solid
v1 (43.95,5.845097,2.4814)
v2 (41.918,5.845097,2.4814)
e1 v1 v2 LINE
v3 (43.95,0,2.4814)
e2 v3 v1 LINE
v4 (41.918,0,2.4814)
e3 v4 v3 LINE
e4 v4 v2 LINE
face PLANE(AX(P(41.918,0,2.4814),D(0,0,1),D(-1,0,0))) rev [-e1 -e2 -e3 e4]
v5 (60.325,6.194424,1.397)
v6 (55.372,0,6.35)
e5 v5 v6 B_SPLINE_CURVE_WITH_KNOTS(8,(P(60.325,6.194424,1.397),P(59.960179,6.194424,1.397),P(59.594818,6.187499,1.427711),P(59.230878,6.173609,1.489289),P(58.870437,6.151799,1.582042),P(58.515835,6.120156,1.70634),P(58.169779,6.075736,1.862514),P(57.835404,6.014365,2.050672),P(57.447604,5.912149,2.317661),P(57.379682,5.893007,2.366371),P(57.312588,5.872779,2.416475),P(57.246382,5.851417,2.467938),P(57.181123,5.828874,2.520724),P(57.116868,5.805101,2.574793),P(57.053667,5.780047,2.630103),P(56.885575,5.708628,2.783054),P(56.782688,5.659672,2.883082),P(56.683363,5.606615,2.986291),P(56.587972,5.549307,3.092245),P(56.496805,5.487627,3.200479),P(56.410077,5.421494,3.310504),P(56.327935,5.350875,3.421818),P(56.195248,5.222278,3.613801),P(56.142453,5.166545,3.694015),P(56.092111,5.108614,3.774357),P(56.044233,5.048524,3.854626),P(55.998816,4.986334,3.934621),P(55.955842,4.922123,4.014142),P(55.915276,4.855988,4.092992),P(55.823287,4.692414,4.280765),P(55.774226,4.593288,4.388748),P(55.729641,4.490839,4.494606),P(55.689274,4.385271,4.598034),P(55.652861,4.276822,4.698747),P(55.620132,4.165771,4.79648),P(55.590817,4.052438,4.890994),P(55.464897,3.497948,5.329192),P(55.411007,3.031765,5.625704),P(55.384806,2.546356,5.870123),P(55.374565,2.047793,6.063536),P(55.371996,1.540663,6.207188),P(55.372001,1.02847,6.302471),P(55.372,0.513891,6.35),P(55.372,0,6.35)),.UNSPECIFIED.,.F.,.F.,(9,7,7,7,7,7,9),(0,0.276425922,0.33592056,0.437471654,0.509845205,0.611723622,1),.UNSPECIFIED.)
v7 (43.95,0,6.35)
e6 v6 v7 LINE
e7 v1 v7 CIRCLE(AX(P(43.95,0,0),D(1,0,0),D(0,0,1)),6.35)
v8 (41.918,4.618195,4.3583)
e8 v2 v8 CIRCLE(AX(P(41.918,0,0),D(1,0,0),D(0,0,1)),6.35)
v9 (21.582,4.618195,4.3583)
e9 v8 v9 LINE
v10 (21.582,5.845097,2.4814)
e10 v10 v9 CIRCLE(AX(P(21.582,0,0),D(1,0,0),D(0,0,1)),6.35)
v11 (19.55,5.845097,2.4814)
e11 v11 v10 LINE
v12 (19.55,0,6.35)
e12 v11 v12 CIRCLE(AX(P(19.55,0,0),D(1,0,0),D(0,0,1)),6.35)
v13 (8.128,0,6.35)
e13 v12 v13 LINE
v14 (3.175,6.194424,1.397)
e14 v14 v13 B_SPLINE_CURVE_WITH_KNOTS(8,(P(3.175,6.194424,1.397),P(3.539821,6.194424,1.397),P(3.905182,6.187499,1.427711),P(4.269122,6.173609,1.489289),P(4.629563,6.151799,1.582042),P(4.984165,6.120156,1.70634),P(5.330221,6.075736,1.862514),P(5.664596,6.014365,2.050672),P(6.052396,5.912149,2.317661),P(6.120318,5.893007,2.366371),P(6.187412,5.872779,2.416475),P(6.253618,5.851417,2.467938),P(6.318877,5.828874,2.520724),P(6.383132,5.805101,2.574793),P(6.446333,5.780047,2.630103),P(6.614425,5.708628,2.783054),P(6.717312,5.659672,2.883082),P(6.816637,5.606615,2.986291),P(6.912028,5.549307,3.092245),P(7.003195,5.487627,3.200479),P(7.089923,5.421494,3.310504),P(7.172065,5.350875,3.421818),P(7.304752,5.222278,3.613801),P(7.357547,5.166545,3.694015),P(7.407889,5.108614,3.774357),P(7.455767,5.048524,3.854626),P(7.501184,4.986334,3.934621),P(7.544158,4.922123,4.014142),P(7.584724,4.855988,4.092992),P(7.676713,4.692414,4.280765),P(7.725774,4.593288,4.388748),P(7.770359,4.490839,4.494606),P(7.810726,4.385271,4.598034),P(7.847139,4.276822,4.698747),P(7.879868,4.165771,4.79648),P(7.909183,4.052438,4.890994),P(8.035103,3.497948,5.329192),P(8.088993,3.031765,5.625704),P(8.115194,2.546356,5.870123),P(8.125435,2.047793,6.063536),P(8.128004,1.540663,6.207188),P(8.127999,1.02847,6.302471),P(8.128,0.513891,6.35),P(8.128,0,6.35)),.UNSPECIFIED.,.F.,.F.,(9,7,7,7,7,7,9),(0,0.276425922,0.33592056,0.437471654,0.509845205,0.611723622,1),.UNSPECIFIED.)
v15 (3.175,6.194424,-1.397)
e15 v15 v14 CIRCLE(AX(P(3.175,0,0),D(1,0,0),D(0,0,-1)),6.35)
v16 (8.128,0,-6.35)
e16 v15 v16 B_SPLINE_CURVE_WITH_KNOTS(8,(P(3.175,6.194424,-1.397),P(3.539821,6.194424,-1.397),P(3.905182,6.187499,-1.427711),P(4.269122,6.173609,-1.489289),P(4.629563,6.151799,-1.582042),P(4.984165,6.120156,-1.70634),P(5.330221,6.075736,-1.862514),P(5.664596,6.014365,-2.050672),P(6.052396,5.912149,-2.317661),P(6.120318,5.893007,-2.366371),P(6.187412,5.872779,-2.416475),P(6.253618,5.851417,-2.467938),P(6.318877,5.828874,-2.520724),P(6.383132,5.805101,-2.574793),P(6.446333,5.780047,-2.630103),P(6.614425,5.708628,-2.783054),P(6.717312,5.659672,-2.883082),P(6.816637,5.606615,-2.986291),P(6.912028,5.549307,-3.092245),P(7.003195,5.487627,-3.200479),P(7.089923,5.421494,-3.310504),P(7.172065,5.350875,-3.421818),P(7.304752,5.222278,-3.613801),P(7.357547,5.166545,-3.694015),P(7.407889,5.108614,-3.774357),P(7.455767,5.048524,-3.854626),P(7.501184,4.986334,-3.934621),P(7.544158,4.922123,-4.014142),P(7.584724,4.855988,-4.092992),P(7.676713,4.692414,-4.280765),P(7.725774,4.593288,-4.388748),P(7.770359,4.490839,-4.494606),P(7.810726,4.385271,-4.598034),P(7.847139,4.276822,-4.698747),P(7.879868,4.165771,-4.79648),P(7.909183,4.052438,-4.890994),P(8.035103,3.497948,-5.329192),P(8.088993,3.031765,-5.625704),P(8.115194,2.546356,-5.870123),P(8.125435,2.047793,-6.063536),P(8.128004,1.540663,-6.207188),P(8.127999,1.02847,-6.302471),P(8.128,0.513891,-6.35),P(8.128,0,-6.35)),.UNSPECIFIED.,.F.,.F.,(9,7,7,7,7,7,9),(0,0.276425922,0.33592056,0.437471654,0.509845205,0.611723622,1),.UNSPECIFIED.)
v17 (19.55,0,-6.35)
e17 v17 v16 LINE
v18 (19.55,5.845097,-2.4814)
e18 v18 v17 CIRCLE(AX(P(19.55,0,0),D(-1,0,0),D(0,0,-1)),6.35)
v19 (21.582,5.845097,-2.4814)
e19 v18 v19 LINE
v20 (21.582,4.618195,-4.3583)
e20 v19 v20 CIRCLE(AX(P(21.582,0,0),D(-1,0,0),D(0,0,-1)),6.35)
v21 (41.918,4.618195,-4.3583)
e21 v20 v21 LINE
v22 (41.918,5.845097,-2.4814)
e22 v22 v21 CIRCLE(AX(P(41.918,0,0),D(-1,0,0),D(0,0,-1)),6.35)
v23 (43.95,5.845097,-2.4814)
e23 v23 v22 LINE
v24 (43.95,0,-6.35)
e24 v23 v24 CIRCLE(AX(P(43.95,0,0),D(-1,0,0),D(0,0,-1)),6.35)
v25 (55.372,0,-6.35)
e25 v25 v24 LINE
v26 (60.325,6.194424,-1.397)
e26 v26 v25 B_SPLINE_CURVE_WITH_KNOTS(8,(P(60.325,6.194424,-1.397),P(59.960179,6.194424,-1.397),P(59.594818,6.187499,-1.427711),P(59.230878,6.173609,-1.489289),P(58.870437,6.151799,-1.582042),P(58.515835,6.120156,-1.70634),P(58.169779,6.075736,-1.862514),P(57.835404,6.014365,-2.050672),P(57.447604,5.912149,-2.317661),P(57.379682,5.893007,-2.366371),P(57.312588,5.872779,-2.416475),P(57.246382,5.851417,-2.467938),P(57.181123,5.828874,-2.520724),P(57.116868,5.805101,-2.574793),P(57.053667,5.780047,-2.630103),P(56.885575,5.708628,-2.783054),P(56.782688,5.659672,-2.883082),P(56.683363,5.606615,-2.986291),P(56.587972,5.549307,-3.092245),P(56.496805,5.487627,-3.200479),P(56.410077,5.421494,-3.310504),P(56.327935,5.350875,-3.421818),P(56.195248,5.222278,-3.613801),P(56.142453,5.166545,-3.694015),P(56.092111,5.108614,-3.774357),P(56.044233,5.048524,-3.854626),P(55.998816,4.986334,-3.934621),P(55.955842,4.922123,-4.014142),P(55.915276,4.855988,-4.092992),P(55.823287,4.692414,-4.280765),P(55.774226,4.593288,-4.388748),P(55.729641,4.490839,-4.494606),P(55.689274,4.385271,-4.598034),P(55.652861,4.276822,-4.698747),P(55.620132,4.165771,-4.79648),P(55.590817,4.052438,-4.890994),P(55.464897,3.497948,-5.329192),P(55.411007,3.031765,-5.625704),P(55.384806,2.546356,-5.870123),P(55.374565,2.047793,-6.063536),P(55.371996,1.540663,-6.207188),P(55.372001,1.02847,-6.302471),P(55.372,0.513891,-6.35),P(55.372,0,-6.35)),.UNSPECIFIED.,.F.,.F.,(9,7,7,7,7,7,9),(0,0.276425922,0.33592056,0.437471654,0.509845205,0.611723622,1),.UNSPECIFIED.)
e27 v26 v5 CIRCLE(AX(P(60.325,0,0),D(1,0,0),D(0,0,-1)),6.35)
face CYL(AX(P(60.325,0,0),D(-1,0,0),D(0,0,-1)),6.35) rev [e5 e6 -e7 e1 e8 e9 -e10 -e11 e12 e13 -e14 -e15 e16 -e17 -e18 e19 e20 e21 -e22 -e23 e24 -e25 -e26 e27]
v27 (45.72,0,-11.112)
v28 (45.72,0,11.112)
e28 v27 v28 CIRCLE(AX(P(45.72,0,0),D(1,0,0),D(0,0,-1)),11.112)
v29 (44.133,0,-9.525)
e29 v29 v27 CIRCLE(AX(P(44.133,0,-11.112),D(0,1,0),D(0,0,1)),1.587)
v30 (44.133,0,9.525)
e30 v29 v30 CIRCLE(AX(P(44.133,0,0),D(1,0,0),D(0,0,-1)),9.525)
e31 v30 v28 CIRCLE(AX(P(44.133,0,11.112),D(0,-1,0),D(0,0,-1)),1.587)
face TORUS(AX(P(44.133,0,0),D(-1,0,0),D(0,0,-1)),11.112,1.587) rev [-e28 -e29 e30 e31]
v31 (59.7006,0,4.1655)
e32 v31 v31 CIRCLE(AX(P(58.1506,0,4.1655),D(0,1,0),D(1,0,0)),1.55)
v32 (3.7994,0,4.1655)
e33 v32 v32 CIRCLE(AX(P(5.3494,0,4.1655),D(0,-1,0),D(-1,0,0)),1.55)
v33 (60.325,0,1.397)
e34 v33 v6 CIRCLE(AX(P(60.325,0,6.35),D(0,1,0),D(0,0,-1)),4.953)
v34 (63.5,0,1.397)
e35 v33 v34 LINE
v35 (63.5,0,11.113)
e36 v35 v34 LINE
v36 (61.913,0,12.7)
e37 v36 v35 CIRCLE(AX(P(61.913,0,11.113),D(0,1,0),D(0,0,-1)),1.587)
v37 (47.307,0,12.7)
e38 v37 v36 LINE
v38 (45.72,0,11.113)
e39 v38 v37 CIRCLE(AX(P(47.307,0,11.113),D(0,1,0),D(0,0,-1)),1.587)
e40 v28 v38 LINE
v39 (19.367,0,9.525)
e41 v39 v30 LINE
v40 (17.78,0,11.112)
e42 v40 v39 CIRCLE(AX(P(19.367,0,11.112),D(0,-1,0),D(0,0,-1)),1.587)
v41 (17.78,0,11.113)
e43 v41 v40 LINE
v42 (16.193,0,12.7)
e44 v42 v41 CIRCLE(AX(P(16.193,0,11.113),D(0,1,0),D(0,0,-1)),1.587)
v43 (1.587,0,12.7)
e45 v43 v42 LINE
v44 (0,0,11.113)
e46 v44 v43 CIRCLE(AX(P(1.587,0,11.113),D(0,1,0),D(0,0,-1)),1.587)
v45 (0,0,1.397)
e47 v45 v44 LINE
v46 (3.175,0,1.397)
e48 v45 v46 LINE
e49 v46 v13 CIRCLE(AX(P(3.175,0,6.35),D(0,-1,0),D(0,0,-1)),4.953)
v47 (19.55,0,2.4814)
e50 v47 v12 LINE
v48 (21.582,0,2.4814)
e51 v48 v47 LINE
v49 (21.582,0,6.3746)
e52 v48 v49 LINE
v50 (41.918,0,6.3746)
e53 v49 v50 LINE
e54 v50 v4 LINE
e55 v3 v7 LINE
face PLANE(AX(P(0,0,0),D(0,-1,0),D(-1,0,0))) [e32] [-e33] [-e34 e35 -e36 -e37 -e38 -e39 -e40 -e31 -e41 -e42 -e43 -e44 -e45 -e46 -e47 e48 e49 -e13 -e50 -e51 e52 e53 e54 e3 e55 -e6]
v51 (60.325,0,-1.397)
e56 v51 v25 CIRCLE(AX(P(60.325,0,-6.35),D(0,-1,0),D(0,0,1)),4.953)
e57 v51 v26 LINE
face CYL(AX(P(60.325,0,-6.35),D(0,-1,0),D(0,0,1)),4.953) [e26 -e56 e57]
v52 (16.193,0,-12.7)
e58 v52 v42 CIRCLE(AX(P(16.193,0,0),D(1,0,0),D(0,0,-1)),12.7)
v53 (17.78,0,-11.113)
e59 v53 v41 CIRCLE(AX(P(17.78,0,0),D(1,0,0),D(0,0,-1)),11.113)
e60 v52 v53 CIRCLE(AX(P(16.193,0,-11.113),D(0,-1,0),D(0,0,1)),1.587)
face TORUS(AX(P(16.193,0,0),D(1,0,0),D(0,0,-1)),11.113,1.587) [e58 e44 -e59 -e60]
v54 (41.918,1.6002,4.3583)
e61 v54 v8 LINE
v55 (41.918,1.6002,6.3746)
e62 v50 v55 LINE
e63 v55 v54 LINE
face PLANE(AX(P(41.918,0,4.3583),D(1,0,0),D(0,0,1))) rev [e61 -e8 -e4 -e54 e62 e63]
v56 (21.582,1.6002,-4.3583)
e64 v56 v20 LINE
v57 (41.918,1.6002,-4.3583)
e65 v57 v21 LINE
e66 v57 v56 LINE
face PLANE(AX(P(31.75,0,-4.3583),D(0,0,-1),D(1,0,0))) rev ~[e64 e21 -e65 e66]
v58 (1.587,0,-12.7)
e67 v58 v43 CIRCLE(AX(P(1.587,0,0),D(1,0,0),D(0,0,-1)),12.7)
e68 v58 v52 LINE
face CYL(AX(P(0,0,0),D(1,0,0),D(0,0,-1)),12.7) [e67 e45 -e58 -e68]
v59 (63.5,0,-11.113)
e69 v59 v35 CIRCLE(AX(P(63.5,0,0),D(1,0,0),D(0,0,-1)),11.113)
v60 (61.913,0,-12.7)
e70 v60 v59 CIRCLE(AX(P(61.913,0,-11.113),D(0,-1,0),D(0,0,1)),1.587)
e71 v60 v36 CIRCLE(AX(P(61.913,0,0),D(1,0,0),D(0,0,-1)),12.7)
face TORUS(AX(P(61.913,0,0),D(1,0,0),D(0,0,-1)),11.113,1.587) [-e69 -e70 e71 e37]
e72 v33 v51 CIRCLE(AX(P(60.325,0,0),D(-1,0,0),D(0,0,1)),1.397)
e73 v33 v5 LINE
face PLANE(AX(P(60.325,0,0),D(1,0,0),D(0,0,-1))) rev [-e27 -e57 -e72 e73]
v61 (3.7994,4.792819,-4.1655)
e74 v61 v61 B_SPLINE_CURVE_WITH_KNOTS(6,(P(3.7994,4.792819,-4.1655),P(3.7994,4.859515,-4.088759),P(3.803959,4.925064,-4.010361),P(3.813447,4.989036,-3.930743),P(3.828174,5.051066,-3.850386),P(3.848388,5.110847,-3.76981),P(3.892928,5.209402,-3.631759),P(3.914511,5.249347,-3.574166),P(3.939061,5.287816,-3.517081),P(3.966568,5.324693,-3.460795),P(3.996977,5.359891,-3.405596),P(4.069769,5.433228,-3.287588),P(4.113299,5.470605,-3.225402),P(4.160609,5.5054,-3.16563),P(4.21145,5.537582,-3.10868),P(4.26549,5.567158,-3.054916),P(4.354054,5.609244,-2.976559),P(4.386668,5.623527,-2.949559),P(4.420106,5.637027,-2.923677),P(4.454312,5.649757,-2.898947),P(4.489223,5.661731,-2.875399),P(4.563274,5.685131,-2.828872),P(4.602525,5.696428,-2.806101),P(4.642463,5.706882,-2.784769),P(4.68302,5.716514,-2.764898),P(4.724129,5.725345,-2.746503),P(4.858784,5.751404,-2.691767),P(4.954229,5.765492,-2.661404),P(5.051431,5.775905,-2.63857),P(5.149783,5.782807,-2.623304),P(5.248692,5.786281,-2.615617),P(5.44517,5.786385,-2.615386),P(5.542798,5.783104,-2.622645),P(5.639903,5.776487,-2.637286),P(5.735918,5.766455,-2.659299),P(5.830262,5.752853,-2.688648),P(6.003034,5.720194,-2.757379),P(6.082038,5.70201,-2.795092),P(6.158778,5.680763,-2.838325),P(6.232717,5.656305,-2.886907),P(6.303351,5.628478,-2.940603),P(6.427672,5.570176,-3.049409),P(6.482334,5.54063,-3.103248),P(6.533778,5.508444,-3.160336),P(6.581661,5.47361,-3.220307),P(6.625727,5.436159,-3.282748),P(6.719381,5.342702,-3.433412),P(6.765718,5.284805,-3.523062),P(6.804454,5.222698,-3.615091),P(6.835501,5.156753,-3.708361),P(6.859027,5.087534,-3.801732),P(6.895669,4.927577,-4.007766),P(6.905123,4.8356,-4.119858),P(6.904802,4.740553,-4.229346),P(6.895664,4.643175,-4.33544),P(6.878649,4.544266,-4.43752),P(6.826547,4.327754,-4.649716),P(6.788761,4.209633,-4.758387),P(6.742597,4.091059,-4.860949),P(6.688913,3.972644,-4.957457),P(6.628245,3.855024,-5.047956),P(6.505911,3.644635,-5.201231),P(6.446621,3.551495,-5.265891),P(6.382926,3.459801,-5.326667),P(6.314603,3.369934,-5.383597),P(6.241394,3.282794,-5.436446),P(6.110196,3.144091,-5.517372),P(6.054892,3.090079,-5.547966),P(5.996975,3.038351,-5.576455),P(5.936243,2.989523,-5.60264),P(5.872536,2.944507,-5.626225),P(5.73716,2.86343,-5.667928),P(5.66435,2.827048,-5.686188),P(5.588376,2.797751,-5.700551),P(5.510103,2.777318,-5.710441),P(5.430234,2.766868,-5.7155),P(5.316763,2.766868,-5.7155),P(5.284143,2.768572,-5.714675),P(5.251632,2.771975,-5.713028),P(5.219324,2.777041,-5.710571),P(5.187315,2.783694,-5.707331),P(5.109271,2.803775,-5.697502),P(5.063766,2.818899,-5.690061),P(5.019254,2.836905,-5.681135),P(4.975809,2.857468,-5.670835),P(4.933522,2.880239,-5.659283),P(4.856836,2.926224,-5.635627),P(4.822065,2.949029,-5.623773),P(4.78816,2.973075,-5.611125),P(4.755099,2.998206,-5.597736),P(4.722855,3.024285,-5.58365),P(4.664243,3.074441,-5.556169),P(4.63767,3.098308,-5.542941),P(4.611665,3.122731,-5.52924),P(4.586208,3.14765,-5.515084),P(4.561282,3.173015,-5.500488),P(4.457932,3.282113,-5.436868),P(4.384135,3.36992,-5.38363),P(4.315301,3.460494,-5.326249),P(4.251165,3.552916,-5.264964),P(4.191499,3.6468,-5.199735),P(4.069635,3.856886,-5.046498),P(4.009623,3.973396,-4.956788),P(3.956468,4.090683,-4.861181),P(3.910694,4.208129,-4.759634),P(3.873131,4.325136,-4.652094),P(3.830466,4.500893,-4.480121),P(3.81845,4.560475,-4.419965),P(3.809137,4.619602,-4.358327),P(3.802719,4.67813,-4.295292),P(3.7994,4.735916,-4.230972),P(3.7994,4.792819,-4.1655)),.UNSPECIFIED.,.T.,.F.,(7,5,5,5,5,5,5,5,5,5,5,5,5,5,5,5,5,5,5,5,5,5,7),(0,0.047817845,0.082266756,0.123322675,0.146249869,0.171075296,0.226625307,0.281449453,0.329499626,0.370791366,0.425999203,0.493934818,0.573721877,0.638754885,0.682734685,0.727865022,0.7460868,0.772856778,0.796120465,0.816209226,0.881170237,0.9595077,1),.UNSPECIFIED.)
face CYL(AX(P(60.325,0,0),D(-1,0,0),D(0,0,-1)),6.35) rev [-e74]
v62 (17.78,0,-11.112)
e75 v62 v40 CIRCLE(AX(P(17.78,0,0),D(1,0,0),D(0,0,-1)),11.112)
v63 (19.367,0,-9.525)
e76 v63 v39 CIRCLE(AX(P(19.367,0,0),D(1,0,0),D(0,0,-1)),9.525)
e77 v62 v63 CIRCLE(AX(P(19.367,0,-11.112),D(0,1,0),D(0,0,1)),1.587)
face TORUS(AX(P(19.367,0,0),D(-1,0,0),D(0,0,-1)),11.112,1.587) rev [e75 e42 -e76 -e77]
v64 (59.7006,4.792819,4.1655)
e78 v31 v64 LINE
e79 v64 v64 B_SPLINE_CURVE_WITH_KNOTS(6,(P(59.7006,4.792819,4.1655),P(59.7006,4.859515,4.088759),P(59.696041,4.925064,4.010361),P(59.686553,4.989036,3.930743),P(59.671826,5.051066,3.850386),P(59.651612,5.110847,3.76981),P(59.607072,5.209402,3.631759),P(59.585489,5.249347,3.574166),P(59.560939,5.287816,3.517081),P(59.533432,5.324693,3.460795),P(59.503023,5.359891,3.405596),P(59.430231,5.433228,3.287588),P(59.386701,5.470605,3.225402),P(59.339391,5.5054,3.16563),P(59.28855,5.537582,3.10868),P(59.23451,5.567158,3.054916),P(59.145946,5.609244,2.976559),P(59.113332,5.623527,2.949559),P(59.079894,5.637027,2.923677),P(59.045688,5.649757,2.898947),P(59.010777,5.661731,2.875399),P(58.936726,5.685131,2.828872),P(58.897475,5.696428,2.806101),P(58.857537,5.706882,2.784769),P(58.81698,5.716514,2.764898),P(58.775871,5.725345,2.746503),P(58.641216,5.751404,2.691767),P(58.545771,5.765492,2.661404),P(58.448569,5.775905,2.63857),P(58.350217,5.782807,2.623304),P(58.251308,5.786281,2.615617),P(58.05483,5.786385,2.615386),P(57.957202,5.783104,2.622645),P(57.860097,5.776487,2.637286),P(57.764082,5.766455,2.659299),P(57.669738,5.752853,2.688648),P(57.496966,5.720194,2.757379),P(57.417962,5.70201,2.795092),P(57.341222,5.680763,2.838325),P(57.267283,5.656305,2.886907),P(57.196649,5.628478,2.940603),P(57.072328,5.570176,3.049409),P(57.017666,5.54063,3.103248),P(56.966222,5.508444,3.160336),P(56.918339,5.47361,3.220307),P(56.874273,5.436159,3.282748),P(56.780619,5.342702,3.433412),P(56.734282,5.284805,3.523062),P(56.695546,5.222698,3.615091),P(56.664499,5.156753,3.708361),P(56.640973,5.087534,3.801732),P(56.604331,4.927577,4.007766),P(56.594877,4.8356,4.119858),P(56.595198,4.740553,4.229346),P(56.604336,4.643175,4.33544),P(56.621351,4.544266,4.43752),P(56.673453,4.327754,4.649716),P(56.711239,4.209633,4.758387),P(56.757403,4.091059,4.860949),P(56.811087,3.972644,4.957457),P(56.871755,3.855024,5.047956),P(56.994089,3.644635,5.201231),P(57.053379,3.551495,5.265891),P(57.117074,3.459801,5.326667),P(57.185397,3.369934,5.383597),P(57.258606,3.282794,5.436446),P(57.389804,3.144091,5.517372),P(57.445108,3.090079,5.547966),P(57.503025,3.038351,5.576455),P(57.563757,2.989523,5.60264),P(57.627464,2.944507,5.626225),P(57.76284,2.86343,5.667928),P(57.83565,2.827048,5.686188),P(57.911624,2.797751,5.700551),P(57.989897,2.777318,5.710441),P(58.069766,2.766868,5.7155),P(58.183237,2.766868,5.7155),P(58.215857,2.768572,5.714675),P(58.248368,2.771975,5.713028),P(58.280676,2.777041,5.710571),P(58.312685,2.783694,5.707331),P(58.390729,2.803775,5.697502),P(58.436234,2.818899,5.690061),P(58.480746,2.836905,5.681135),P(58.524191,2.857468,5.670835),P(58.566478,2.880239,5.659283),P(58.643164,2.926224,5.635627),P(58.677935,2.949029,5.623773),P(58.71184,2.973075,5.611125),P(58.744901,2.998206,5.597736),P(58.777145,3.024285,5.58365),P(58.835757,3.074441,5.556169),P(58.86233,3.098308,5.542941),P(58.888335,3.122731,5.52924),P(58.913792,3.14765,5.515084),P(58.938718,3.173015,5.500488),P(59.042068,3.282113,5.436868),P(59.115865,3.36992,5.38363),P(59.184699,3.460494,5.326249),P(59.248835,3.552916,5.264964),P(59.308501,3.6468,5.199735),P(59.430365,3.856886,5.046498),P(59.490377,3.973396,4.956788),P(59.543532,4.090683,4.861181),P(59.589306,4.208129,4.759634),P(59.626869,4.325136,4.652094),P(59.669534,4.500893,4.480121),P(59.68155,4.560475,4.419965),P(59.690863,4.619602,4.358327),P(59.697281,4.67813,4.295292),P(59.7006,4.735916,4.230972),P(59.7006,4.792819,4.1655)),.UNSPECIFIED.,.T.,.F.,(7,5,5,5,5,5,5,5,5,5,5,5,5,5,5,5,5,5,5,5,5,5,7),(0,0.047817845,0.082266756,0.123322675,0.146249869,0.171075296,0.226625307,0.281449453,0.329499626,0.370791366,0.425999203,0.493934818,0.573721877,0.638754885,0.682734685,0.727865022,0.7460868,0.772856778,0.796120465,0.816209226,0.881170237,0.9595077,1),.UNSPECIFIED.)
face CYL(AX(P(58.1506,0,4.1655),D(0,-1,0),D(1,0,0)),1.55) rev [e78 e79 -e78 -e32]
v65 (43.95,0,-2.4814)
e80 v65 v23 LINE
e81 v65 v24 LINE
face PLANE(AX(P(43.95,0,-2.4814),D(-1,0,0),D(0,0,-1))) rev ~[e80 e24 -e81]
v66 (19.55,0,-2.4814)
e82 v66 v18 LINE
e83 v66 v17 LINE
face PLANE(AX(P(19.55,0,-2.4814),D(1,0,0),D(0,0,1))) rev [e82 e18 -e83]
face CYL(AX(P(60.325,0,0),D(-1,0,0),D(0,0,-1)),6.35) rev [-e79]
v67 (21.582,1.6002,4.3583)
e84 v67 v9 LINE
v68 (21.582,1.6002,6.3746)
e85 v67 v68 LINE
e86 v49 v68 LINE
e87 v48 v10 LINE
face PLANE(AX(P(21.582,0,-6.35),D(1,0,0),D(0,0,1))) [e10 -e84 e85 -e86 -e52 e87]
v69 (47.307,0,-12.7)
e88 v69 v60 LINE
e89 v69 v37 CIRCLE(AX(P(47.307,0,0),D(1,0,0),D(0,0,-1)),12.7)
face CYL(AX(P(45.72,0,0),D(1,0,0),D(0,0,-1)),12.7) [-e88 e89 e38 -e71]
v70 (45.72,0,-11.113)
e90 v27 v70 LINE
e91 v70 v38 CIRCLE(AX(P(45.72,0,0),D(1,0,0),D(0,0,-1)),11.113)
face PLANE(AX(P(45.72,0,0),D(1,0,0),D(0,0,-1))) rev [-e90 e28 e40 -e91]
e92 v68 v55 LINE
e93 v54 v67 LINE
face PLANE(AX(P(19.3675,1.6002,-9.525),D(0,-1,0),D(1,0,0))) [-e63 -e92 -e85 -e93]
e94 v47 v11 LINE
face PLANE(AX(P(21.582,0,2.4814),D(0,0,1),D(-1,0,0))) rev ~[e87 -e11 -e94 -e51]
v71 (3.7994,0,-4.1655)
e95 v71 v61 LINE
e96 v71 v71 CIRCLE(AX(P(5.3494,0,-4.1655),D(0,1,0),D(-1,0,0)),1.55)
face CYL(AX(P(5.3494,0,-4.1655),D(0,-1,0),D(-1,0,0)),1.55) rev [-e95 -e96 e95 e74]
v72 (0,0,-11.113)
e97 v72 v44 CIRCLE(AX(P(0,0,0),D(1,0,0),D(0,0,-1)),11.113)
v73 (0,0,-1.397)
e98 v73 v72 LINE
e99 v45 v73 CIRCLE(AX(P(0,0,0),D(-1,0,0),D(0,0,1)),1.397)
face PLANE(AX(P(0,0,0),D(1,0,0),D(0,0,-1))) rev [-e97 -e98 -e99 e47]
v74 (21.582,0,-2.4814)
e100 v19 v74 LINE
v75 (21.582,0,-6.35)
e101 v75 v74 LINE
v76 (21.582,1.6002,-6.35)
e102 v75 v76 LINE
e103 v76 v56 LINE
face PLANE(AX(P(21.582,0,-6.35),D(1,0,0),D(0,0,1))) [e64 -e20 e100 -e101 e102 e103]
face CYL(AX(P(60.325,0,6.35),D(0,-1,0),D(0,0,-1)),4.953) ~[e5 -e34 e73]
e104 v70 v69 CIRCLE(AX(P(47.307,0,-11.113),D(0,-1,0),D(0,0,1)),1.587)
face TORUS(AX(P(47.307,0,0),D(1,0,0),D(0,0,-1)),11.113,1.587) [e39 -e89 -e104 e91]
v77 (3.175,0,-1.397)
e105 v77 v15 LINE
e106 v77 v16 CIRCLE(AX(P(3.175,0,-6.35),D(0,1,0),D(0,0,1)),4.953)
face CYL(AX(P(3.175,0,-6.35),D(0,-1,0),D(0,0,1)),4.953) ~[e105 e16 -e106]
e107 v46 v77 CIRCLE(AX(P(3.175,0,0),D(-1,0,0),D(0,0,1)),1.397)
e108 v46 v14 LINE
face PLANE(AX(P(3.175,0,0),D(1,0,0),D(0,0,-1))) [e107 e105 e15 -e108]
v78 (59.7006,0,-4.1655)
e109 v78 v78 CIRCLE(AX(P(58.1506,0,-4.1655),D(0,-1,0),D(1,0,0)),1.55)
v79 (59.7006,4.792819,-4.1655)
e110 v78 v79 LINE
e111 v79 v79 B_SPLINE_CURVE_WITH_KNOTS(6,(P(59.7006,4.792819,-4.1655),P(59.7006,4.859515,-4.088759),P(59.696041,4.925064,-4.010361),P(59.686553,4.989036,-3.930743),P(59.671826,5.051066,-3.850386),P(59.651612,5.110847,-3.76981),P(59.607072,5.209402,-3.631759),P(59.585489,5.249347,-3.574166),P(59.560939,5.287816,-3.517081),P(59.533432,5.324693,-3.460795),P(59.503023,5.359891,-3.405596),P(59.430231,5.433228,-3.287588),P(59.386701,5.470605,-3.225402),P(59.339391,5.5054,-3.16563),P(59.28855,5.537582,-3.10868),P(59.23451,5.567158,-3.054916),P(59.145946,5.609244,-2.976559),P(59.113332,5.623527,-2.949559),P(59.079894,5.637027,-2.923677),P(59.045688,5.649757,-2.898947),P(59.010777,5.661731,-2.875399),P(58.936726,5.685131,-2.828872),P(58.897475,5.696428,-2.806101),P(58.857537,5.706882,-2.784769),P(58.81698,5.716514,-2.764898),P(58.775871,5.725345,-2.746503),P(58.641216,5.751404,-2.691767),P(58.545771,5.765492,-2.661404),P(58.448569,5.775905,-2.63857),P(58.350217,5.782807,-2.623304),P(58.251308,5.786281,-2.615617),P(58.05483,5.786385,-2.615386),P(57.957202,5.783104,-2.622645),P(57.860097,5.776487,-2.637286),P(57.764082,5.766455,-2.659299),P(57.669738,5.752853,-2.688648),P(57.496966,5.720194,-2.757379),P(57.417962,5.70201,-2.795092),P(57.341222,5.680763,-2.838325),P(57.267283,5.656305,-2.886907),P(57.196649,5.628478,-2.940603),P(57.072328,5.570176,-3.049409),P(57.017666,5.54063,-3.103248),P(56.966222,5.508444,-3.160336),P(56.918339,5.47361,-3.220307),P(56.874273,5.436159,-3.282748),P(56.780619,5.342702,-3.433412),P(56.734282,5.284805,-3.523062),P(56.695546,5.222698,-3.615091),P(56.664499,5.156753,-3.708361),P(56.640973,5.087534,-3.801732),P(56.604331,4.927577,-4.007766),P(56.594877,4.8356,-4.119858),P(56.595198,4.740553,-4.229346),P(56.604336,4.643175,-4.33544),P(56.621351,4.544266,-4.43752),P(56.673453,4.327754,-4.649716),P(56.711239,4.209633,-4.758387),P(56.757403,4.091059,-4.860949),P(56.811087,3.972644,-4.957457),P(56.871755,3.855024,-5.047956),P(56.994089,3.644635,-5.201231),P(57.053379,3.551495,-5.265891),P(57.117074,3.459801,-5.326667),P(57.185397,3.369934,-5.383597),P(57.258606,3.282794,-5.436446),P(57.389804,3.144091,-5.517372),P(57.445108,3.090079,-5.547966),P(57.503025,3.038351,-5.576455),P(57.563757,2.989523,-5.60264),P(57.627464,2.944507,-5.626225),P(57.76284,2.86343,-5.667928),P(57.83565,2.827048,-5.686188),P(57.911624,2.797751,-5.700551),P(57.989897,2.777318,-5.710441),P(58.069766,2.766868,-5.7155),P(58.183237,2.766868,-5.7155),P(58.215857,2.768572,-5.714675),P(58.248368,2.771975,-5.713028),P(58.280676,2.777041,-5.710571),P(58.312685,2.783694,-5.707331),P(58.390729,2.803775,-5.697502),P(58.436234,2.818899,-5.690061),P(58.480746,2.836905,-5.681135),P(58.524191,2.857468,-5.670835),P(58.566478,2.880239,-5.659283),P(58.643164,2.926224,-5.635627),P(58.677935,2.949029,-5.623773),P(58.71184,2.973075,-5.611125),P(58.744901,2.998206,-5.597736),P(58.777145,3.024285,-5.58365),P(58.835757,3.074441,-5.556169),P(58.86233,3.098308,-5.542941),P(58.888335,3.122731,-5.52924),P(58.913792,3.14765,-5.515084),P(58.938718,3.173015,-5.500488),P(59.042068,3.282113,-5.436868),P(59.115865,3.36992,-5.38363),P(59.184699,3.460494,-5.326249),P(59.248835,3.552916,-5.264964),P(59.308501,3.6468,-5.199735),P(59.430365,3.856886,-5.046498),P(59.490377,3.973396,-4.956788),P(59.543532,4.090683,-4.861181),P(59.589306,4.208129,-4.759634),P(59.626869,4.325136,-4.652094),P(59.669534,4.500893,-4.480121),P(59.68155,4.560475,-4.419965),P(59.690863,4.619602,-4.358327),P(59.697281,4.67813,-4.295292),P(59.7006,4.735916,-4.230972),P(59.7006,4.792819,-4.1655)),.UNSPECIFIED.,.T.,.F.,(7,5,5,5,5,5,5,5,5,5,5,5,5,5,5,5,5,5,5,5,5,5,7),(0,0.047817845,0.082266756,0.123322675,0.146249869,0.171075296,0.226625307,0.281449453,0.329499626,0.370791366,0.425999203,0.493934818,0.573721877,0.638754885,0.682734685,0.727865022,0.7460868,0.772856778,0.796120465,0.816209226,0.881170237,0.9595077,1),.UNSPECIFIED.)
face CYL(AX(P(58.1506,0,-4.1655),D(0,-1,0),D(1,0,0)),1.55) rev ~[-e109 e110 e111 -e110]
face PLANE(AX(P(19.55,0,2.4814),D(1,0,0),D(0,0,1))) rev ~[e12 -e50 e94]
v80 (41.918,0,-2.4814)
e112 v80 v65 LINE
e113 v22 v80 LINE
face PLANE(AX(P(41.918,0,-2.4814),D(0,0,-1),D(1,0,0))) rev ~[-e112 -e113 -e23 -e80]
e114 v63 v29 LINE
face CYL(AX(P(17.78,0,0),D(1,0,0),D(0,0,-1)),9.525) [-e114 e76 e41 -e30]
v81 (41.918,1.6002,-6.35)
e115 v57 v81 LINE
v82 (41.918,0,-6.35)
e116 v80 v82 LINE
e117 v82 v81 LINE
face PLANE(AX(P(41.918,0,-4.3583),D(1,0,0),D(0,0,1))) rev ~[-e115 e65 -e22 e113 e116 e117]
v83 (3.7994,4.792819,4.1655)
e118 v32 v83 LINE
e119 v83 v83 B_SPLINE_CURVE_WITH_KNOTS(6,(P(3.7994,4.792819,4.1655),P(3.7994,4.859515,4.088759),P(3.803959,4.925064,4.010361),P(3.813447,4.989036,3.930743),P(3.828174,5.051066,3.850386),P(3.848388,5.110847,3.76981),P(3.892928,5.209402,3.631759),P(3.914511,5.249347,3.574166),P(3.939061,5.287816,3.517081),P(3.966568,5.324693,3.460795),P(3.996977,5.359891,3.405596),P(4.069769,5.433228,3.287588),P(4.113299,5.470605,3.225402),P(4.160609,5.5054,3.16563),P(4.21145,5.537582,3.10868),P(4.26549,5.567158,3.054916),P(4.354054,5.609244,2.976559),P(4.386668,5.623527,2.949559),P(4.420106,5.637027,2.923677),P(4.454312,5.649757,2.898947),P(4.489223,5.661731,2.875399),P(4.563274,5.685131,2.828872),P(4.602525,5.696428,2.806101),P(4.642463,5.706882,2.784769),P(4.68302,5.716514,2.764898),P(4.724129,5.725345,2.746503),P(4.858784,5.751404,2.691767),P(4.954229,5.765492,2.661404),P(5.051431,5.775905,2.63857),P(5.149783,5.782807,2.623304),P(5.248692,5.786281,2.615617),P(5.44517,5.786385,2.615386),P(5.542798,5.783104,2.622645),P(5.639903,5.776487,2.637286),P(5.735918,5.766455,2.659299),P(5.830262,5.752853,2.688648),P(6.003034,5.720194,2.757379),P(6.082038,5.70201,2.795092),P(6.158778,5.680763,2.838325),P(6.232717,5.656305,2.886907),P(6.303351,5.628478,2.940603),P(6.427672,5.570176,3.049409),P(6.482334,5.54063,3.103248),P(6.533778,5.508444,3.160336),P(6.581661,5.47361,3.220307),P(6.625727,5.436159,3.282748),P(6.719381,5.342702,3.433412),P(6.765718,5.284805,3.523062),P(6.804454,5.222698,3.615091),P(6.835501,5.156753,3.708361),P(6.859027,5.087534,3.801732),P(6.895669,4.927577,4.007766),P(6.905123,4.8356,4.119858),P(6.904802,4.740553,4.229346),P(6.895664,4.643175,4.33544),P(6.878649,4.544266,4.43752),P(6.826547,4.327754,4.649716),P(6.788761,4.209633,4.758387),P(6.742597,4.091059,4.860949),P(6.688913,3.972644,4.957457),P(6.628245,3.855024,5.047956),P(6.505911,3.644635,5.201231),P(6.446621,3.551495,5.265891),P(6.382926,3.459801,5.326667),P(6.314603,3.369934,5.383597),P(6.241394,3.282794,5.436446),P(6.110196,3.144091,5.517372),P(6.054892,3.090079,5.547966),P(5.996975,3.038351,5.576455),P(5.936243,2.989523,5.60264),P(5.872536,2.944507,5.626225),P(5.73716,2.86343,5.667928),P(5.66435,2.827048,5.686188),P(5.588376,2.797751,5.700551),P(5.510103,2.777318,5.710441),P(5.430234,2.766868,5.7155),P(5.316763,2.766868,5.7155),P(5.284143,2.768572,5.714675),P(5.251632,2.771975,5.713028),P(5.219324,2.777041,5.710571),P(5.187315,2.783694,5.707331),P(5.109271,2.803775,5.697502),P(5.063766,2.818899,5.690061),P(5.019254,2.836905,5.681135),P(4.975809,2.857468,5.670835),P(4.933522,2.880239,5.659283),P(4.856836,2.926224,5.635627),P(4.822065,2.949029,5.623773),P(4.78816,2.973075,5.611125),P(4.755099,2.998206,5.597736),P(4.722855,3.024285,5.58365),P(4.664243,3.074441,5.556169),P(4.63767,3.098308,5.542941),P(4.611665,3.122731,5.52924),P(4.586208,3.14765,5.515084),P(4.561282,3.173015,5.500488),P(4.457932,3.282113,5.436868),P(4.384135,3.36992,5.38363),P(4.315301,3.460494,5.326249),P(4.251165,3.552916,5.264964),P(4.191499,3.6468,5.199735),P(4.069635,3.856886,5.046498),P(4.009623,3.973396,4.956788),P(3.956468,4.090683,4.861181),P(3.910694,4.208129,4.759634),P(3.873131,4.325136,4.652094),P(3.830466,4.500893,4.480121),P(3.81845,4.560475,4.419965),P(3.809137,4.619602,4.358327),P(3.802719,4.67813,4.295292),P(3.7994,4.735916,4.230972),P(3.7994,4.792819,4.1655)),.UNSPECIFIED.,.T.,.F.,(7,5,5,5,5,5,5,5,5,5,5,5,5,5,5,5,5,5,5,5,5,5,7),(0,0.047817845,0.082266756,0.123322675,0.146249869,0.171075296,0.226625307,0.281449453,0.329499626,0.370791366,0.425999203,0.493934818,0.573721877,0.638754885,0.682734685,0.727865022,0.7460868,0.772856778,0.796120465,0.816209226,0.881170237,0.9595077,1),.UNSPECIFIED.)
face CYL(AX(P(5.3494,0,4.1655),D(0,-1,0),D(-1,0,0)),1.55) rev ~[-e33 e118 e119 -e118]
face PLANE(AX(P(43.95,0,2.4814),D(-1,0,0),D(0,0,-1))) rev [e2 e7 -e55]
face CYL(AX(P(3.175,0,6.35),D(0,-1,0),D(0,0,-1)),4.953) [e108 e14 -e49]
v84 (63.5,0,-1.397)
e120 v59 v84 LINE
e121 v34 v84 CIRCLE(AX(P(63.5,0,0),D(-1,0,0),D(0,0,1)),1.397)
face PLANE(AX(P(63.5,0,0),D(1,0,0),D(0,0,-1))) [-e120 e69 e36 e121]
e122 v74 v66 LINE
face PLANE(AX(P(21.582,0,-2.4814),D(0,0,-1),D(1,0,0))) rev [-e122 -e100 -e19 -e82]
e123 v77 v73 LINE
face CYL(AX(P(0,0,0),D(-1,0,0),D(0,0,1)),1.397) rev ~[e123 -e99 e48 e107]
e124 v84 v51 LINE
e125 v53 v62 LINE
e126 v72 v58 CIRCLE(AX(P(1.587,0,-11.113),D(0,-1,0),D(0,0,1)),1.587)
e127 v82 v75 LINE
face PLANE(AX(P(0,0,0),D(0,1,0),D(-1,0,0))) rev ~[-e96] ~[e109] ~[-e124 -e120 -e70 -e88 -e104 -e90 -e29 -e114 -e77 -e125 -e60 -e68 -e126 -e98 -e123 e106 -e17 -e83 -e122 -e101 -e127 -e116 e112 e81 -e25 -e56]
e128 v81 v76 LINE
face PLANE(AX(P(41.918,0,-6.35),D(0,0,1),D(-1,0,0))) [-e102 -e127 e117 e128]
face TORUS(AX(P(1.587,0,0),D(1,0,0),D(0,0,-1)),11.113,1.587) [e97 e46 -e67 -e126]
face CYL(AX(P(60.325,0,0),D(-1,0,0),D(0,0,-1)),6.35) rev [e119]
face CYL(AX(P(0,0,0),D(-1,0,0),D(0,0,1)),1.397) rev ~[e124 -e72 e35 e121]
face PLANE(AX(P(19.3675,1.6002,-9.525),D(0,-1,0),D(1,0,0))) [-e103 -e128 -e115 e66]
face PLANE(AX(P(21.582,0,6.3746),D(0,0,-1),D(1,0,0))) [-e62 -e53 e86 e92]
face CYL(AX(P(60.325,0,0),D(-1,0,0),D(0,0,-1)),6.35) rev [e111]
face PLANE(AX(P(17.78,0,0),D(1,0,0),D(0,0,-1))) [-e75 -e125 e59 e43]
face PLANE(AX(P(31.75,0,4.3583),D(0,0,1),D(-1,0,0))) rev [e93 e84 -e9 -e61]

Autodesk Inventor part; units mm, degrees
ref_plane "XZ Plane" through (0, 0, 0) normal (0, 1, 0) x (-1, 0, 0)
ref_plane "XY Plane" through (0, 0, 0) normal (0, 0, 1) x (1, 0, 0)
sketch "Sketch1" plane through (0, 0, 0) normal (0, 1, 0) x (-1, 0, 0)
  line L0 (0, 0) -> (0, -12.7)
  line L1 (0, -12.7) -> (-17.78, -12.7)
  line L2 (-17.78, -12.7) -> (-17.78, -9.525)
  line L3 (-17.78, -9.525) -> (-45.72, -9.525)
  line L4 (-45.72, -9.525) -> (-45.72, -12.7)
  line L5 (-45.72, -12.7) -> (-63.5, -12.7)
  line L6 (-63.5, -12.7) -> (-63.5, 0)
  line L7 (-63.5, 0) -> (-60.325, 0)
  line L8 (-60.325, 0) -> (-60.325, -6.35)
  line L9 (-60.325, -6.35) -> (-3.175, -6.35)
  line L10 (-3.175, -6.35) -> (-3.175, 0)
  line L11 (-3.175, 0) -> (0, 0)
  dimension "d0" = 12.7
  dimension "d1" = 3.175
  dimension "d2" = 17.78
  dimension "d3" = 63.5
  dimension "d4" = 3.175
  dimension "d5" = 3.175
revolve "Revolution1" add sketch "Sketch1" angle 180 about axis through (63.5, 0, 0) along (1, 0, 0)
fillet "Fillet1" radius 1.5875 6 edges at (63.5, 12.7, 0) (17.78, 9.525, 0) (17.78, 12.7, 0) (0, 12.7, 0) (45.72, 9.525, 0) (45.72, 12.7, 0)
sketch "Sketch2" plane through (0, 0, 0) normal (-1, 0, 0) x (0, 0, 1)
  circle A0 centre (0, 0) radius 1.397
  dimension "d8" = 2.794
extrude "Extrusion1" cut sketch "Sketch2" against normal through all
sketch "Sketch3" plane through (3.175, 0, 6.35) normal (0, -1, 0) x (1, 0, 0)
  line L0 (0, 0) -> (57.15, 0) construction
  line L1 (57.15, -12.7) -> (0, -12.7) construction
  line L2 (0, -4.953) -> (0, -7.747) construction
  line L3 (0, -6.35) -> (10.7724, -6.35) construction
  line L4 (10.7724, -6.35) -> (46.1567, -6.35) construction
  line L5 (46.1567, -6.35) -> (56.929, -6.35) construction
  line L6 (0, -12.7) -> (0, 0) projected
  line L7 (28.575, 0) -> (28.575, -12.7) construction
  line L8 (57.15, -7.747) -> (57.15, -4.953) projected
  line L9 (28.575, -10.7083) -> (28.575, -12.7)
  line L10 (57.15, -7.747) -> (28.575, -7.747) construction
  line L11 (28.575, -10.7083) -> (38.743, -10.7083)
  line L12 (40.775, -8.8314) -> (40.775, -12.7)
  line L13 (40.775, -12.7) -> (28.575, -12.7)
  line L14 (28.575, -12.7) -> (28.575, -10.7083)
  line L15 (38.743, -10.7083) -> (38.743, -12.7)
  line L16 (36.4298, -11.4703) -> (36.4298, -10.7083) construction
  line L17 (29.337, -10.5155) -> (28.575, -10.5155) construction
  line L18 (37.981, -10.5156) -> (38.743, -10.5156) construction
  line L19 (38.743, -10.7083) -> (38.743, -8.8314)
  line L20 (38.743, -8.8314) -> (40.775, -8.8314)
  circle A0 centre (54.9756, -10.5155) radius 1.55
  arc A1 (57.15, -7.747) -> (52.197, -12.7) centre (57.15, -12.7) ccw
  line L21 (57.15, -12.7) -> (53.6477, -9.1977) construction
  line L22 (57.15, -7.747) -> (57.15, -12.7)
  line L23 (57.15, -12.7) -> (52.197, -12.7)
  point P0 (-3.175, -6.35)
  dimension "d27" = 2.032
  dimension "d28" = 3.1
extrude "Extrusion3" add sketch "Sketch3" against normal up to next
mirror "Mirror1" about plane through (0, 0, 0) normal (0, 0, 1) of "Extrusion3"
ref_plane "Work Plane1" through (31.75, 0, -9.525) normal (1, 0, 0) x (0, 1, 0)
mirror "Mirror2" about plane through (31.75, 0, -9.525) normal (1, 0, 0) of "Extrusion3", "Mirror1"
sketch "Sketch4" plane through (19.3675, 0, -9.525) normal (0, -1, 0) x (1, 0, 0)
  line L0 (22.5505, 3.175) -> (2.2145, 3.175)
  line L1 (2.2145, 3.175) -> (2.2145, 15.8996)
  line L2 (2.2145, 15.8996) -> (22.5505, 15.8996)
  line L3 (22.5505, 15.8996) -> (22.5505, 3.175)
  point P0 (-19.3675, 9.525)
  point P1 (36.0045, 3.175)
  point P2 (40.9575, 3.175)
  point P3 (24.5825, 7.0436)
extrude "Extrusion4" cut sketch "Sketch4" against normal blind 1.6002
ref_plane "Work Plane2" through (31.75, 0, -9.525) normal (1, 0, 0) x (0, 1, 0)
properties part number "resistor"
